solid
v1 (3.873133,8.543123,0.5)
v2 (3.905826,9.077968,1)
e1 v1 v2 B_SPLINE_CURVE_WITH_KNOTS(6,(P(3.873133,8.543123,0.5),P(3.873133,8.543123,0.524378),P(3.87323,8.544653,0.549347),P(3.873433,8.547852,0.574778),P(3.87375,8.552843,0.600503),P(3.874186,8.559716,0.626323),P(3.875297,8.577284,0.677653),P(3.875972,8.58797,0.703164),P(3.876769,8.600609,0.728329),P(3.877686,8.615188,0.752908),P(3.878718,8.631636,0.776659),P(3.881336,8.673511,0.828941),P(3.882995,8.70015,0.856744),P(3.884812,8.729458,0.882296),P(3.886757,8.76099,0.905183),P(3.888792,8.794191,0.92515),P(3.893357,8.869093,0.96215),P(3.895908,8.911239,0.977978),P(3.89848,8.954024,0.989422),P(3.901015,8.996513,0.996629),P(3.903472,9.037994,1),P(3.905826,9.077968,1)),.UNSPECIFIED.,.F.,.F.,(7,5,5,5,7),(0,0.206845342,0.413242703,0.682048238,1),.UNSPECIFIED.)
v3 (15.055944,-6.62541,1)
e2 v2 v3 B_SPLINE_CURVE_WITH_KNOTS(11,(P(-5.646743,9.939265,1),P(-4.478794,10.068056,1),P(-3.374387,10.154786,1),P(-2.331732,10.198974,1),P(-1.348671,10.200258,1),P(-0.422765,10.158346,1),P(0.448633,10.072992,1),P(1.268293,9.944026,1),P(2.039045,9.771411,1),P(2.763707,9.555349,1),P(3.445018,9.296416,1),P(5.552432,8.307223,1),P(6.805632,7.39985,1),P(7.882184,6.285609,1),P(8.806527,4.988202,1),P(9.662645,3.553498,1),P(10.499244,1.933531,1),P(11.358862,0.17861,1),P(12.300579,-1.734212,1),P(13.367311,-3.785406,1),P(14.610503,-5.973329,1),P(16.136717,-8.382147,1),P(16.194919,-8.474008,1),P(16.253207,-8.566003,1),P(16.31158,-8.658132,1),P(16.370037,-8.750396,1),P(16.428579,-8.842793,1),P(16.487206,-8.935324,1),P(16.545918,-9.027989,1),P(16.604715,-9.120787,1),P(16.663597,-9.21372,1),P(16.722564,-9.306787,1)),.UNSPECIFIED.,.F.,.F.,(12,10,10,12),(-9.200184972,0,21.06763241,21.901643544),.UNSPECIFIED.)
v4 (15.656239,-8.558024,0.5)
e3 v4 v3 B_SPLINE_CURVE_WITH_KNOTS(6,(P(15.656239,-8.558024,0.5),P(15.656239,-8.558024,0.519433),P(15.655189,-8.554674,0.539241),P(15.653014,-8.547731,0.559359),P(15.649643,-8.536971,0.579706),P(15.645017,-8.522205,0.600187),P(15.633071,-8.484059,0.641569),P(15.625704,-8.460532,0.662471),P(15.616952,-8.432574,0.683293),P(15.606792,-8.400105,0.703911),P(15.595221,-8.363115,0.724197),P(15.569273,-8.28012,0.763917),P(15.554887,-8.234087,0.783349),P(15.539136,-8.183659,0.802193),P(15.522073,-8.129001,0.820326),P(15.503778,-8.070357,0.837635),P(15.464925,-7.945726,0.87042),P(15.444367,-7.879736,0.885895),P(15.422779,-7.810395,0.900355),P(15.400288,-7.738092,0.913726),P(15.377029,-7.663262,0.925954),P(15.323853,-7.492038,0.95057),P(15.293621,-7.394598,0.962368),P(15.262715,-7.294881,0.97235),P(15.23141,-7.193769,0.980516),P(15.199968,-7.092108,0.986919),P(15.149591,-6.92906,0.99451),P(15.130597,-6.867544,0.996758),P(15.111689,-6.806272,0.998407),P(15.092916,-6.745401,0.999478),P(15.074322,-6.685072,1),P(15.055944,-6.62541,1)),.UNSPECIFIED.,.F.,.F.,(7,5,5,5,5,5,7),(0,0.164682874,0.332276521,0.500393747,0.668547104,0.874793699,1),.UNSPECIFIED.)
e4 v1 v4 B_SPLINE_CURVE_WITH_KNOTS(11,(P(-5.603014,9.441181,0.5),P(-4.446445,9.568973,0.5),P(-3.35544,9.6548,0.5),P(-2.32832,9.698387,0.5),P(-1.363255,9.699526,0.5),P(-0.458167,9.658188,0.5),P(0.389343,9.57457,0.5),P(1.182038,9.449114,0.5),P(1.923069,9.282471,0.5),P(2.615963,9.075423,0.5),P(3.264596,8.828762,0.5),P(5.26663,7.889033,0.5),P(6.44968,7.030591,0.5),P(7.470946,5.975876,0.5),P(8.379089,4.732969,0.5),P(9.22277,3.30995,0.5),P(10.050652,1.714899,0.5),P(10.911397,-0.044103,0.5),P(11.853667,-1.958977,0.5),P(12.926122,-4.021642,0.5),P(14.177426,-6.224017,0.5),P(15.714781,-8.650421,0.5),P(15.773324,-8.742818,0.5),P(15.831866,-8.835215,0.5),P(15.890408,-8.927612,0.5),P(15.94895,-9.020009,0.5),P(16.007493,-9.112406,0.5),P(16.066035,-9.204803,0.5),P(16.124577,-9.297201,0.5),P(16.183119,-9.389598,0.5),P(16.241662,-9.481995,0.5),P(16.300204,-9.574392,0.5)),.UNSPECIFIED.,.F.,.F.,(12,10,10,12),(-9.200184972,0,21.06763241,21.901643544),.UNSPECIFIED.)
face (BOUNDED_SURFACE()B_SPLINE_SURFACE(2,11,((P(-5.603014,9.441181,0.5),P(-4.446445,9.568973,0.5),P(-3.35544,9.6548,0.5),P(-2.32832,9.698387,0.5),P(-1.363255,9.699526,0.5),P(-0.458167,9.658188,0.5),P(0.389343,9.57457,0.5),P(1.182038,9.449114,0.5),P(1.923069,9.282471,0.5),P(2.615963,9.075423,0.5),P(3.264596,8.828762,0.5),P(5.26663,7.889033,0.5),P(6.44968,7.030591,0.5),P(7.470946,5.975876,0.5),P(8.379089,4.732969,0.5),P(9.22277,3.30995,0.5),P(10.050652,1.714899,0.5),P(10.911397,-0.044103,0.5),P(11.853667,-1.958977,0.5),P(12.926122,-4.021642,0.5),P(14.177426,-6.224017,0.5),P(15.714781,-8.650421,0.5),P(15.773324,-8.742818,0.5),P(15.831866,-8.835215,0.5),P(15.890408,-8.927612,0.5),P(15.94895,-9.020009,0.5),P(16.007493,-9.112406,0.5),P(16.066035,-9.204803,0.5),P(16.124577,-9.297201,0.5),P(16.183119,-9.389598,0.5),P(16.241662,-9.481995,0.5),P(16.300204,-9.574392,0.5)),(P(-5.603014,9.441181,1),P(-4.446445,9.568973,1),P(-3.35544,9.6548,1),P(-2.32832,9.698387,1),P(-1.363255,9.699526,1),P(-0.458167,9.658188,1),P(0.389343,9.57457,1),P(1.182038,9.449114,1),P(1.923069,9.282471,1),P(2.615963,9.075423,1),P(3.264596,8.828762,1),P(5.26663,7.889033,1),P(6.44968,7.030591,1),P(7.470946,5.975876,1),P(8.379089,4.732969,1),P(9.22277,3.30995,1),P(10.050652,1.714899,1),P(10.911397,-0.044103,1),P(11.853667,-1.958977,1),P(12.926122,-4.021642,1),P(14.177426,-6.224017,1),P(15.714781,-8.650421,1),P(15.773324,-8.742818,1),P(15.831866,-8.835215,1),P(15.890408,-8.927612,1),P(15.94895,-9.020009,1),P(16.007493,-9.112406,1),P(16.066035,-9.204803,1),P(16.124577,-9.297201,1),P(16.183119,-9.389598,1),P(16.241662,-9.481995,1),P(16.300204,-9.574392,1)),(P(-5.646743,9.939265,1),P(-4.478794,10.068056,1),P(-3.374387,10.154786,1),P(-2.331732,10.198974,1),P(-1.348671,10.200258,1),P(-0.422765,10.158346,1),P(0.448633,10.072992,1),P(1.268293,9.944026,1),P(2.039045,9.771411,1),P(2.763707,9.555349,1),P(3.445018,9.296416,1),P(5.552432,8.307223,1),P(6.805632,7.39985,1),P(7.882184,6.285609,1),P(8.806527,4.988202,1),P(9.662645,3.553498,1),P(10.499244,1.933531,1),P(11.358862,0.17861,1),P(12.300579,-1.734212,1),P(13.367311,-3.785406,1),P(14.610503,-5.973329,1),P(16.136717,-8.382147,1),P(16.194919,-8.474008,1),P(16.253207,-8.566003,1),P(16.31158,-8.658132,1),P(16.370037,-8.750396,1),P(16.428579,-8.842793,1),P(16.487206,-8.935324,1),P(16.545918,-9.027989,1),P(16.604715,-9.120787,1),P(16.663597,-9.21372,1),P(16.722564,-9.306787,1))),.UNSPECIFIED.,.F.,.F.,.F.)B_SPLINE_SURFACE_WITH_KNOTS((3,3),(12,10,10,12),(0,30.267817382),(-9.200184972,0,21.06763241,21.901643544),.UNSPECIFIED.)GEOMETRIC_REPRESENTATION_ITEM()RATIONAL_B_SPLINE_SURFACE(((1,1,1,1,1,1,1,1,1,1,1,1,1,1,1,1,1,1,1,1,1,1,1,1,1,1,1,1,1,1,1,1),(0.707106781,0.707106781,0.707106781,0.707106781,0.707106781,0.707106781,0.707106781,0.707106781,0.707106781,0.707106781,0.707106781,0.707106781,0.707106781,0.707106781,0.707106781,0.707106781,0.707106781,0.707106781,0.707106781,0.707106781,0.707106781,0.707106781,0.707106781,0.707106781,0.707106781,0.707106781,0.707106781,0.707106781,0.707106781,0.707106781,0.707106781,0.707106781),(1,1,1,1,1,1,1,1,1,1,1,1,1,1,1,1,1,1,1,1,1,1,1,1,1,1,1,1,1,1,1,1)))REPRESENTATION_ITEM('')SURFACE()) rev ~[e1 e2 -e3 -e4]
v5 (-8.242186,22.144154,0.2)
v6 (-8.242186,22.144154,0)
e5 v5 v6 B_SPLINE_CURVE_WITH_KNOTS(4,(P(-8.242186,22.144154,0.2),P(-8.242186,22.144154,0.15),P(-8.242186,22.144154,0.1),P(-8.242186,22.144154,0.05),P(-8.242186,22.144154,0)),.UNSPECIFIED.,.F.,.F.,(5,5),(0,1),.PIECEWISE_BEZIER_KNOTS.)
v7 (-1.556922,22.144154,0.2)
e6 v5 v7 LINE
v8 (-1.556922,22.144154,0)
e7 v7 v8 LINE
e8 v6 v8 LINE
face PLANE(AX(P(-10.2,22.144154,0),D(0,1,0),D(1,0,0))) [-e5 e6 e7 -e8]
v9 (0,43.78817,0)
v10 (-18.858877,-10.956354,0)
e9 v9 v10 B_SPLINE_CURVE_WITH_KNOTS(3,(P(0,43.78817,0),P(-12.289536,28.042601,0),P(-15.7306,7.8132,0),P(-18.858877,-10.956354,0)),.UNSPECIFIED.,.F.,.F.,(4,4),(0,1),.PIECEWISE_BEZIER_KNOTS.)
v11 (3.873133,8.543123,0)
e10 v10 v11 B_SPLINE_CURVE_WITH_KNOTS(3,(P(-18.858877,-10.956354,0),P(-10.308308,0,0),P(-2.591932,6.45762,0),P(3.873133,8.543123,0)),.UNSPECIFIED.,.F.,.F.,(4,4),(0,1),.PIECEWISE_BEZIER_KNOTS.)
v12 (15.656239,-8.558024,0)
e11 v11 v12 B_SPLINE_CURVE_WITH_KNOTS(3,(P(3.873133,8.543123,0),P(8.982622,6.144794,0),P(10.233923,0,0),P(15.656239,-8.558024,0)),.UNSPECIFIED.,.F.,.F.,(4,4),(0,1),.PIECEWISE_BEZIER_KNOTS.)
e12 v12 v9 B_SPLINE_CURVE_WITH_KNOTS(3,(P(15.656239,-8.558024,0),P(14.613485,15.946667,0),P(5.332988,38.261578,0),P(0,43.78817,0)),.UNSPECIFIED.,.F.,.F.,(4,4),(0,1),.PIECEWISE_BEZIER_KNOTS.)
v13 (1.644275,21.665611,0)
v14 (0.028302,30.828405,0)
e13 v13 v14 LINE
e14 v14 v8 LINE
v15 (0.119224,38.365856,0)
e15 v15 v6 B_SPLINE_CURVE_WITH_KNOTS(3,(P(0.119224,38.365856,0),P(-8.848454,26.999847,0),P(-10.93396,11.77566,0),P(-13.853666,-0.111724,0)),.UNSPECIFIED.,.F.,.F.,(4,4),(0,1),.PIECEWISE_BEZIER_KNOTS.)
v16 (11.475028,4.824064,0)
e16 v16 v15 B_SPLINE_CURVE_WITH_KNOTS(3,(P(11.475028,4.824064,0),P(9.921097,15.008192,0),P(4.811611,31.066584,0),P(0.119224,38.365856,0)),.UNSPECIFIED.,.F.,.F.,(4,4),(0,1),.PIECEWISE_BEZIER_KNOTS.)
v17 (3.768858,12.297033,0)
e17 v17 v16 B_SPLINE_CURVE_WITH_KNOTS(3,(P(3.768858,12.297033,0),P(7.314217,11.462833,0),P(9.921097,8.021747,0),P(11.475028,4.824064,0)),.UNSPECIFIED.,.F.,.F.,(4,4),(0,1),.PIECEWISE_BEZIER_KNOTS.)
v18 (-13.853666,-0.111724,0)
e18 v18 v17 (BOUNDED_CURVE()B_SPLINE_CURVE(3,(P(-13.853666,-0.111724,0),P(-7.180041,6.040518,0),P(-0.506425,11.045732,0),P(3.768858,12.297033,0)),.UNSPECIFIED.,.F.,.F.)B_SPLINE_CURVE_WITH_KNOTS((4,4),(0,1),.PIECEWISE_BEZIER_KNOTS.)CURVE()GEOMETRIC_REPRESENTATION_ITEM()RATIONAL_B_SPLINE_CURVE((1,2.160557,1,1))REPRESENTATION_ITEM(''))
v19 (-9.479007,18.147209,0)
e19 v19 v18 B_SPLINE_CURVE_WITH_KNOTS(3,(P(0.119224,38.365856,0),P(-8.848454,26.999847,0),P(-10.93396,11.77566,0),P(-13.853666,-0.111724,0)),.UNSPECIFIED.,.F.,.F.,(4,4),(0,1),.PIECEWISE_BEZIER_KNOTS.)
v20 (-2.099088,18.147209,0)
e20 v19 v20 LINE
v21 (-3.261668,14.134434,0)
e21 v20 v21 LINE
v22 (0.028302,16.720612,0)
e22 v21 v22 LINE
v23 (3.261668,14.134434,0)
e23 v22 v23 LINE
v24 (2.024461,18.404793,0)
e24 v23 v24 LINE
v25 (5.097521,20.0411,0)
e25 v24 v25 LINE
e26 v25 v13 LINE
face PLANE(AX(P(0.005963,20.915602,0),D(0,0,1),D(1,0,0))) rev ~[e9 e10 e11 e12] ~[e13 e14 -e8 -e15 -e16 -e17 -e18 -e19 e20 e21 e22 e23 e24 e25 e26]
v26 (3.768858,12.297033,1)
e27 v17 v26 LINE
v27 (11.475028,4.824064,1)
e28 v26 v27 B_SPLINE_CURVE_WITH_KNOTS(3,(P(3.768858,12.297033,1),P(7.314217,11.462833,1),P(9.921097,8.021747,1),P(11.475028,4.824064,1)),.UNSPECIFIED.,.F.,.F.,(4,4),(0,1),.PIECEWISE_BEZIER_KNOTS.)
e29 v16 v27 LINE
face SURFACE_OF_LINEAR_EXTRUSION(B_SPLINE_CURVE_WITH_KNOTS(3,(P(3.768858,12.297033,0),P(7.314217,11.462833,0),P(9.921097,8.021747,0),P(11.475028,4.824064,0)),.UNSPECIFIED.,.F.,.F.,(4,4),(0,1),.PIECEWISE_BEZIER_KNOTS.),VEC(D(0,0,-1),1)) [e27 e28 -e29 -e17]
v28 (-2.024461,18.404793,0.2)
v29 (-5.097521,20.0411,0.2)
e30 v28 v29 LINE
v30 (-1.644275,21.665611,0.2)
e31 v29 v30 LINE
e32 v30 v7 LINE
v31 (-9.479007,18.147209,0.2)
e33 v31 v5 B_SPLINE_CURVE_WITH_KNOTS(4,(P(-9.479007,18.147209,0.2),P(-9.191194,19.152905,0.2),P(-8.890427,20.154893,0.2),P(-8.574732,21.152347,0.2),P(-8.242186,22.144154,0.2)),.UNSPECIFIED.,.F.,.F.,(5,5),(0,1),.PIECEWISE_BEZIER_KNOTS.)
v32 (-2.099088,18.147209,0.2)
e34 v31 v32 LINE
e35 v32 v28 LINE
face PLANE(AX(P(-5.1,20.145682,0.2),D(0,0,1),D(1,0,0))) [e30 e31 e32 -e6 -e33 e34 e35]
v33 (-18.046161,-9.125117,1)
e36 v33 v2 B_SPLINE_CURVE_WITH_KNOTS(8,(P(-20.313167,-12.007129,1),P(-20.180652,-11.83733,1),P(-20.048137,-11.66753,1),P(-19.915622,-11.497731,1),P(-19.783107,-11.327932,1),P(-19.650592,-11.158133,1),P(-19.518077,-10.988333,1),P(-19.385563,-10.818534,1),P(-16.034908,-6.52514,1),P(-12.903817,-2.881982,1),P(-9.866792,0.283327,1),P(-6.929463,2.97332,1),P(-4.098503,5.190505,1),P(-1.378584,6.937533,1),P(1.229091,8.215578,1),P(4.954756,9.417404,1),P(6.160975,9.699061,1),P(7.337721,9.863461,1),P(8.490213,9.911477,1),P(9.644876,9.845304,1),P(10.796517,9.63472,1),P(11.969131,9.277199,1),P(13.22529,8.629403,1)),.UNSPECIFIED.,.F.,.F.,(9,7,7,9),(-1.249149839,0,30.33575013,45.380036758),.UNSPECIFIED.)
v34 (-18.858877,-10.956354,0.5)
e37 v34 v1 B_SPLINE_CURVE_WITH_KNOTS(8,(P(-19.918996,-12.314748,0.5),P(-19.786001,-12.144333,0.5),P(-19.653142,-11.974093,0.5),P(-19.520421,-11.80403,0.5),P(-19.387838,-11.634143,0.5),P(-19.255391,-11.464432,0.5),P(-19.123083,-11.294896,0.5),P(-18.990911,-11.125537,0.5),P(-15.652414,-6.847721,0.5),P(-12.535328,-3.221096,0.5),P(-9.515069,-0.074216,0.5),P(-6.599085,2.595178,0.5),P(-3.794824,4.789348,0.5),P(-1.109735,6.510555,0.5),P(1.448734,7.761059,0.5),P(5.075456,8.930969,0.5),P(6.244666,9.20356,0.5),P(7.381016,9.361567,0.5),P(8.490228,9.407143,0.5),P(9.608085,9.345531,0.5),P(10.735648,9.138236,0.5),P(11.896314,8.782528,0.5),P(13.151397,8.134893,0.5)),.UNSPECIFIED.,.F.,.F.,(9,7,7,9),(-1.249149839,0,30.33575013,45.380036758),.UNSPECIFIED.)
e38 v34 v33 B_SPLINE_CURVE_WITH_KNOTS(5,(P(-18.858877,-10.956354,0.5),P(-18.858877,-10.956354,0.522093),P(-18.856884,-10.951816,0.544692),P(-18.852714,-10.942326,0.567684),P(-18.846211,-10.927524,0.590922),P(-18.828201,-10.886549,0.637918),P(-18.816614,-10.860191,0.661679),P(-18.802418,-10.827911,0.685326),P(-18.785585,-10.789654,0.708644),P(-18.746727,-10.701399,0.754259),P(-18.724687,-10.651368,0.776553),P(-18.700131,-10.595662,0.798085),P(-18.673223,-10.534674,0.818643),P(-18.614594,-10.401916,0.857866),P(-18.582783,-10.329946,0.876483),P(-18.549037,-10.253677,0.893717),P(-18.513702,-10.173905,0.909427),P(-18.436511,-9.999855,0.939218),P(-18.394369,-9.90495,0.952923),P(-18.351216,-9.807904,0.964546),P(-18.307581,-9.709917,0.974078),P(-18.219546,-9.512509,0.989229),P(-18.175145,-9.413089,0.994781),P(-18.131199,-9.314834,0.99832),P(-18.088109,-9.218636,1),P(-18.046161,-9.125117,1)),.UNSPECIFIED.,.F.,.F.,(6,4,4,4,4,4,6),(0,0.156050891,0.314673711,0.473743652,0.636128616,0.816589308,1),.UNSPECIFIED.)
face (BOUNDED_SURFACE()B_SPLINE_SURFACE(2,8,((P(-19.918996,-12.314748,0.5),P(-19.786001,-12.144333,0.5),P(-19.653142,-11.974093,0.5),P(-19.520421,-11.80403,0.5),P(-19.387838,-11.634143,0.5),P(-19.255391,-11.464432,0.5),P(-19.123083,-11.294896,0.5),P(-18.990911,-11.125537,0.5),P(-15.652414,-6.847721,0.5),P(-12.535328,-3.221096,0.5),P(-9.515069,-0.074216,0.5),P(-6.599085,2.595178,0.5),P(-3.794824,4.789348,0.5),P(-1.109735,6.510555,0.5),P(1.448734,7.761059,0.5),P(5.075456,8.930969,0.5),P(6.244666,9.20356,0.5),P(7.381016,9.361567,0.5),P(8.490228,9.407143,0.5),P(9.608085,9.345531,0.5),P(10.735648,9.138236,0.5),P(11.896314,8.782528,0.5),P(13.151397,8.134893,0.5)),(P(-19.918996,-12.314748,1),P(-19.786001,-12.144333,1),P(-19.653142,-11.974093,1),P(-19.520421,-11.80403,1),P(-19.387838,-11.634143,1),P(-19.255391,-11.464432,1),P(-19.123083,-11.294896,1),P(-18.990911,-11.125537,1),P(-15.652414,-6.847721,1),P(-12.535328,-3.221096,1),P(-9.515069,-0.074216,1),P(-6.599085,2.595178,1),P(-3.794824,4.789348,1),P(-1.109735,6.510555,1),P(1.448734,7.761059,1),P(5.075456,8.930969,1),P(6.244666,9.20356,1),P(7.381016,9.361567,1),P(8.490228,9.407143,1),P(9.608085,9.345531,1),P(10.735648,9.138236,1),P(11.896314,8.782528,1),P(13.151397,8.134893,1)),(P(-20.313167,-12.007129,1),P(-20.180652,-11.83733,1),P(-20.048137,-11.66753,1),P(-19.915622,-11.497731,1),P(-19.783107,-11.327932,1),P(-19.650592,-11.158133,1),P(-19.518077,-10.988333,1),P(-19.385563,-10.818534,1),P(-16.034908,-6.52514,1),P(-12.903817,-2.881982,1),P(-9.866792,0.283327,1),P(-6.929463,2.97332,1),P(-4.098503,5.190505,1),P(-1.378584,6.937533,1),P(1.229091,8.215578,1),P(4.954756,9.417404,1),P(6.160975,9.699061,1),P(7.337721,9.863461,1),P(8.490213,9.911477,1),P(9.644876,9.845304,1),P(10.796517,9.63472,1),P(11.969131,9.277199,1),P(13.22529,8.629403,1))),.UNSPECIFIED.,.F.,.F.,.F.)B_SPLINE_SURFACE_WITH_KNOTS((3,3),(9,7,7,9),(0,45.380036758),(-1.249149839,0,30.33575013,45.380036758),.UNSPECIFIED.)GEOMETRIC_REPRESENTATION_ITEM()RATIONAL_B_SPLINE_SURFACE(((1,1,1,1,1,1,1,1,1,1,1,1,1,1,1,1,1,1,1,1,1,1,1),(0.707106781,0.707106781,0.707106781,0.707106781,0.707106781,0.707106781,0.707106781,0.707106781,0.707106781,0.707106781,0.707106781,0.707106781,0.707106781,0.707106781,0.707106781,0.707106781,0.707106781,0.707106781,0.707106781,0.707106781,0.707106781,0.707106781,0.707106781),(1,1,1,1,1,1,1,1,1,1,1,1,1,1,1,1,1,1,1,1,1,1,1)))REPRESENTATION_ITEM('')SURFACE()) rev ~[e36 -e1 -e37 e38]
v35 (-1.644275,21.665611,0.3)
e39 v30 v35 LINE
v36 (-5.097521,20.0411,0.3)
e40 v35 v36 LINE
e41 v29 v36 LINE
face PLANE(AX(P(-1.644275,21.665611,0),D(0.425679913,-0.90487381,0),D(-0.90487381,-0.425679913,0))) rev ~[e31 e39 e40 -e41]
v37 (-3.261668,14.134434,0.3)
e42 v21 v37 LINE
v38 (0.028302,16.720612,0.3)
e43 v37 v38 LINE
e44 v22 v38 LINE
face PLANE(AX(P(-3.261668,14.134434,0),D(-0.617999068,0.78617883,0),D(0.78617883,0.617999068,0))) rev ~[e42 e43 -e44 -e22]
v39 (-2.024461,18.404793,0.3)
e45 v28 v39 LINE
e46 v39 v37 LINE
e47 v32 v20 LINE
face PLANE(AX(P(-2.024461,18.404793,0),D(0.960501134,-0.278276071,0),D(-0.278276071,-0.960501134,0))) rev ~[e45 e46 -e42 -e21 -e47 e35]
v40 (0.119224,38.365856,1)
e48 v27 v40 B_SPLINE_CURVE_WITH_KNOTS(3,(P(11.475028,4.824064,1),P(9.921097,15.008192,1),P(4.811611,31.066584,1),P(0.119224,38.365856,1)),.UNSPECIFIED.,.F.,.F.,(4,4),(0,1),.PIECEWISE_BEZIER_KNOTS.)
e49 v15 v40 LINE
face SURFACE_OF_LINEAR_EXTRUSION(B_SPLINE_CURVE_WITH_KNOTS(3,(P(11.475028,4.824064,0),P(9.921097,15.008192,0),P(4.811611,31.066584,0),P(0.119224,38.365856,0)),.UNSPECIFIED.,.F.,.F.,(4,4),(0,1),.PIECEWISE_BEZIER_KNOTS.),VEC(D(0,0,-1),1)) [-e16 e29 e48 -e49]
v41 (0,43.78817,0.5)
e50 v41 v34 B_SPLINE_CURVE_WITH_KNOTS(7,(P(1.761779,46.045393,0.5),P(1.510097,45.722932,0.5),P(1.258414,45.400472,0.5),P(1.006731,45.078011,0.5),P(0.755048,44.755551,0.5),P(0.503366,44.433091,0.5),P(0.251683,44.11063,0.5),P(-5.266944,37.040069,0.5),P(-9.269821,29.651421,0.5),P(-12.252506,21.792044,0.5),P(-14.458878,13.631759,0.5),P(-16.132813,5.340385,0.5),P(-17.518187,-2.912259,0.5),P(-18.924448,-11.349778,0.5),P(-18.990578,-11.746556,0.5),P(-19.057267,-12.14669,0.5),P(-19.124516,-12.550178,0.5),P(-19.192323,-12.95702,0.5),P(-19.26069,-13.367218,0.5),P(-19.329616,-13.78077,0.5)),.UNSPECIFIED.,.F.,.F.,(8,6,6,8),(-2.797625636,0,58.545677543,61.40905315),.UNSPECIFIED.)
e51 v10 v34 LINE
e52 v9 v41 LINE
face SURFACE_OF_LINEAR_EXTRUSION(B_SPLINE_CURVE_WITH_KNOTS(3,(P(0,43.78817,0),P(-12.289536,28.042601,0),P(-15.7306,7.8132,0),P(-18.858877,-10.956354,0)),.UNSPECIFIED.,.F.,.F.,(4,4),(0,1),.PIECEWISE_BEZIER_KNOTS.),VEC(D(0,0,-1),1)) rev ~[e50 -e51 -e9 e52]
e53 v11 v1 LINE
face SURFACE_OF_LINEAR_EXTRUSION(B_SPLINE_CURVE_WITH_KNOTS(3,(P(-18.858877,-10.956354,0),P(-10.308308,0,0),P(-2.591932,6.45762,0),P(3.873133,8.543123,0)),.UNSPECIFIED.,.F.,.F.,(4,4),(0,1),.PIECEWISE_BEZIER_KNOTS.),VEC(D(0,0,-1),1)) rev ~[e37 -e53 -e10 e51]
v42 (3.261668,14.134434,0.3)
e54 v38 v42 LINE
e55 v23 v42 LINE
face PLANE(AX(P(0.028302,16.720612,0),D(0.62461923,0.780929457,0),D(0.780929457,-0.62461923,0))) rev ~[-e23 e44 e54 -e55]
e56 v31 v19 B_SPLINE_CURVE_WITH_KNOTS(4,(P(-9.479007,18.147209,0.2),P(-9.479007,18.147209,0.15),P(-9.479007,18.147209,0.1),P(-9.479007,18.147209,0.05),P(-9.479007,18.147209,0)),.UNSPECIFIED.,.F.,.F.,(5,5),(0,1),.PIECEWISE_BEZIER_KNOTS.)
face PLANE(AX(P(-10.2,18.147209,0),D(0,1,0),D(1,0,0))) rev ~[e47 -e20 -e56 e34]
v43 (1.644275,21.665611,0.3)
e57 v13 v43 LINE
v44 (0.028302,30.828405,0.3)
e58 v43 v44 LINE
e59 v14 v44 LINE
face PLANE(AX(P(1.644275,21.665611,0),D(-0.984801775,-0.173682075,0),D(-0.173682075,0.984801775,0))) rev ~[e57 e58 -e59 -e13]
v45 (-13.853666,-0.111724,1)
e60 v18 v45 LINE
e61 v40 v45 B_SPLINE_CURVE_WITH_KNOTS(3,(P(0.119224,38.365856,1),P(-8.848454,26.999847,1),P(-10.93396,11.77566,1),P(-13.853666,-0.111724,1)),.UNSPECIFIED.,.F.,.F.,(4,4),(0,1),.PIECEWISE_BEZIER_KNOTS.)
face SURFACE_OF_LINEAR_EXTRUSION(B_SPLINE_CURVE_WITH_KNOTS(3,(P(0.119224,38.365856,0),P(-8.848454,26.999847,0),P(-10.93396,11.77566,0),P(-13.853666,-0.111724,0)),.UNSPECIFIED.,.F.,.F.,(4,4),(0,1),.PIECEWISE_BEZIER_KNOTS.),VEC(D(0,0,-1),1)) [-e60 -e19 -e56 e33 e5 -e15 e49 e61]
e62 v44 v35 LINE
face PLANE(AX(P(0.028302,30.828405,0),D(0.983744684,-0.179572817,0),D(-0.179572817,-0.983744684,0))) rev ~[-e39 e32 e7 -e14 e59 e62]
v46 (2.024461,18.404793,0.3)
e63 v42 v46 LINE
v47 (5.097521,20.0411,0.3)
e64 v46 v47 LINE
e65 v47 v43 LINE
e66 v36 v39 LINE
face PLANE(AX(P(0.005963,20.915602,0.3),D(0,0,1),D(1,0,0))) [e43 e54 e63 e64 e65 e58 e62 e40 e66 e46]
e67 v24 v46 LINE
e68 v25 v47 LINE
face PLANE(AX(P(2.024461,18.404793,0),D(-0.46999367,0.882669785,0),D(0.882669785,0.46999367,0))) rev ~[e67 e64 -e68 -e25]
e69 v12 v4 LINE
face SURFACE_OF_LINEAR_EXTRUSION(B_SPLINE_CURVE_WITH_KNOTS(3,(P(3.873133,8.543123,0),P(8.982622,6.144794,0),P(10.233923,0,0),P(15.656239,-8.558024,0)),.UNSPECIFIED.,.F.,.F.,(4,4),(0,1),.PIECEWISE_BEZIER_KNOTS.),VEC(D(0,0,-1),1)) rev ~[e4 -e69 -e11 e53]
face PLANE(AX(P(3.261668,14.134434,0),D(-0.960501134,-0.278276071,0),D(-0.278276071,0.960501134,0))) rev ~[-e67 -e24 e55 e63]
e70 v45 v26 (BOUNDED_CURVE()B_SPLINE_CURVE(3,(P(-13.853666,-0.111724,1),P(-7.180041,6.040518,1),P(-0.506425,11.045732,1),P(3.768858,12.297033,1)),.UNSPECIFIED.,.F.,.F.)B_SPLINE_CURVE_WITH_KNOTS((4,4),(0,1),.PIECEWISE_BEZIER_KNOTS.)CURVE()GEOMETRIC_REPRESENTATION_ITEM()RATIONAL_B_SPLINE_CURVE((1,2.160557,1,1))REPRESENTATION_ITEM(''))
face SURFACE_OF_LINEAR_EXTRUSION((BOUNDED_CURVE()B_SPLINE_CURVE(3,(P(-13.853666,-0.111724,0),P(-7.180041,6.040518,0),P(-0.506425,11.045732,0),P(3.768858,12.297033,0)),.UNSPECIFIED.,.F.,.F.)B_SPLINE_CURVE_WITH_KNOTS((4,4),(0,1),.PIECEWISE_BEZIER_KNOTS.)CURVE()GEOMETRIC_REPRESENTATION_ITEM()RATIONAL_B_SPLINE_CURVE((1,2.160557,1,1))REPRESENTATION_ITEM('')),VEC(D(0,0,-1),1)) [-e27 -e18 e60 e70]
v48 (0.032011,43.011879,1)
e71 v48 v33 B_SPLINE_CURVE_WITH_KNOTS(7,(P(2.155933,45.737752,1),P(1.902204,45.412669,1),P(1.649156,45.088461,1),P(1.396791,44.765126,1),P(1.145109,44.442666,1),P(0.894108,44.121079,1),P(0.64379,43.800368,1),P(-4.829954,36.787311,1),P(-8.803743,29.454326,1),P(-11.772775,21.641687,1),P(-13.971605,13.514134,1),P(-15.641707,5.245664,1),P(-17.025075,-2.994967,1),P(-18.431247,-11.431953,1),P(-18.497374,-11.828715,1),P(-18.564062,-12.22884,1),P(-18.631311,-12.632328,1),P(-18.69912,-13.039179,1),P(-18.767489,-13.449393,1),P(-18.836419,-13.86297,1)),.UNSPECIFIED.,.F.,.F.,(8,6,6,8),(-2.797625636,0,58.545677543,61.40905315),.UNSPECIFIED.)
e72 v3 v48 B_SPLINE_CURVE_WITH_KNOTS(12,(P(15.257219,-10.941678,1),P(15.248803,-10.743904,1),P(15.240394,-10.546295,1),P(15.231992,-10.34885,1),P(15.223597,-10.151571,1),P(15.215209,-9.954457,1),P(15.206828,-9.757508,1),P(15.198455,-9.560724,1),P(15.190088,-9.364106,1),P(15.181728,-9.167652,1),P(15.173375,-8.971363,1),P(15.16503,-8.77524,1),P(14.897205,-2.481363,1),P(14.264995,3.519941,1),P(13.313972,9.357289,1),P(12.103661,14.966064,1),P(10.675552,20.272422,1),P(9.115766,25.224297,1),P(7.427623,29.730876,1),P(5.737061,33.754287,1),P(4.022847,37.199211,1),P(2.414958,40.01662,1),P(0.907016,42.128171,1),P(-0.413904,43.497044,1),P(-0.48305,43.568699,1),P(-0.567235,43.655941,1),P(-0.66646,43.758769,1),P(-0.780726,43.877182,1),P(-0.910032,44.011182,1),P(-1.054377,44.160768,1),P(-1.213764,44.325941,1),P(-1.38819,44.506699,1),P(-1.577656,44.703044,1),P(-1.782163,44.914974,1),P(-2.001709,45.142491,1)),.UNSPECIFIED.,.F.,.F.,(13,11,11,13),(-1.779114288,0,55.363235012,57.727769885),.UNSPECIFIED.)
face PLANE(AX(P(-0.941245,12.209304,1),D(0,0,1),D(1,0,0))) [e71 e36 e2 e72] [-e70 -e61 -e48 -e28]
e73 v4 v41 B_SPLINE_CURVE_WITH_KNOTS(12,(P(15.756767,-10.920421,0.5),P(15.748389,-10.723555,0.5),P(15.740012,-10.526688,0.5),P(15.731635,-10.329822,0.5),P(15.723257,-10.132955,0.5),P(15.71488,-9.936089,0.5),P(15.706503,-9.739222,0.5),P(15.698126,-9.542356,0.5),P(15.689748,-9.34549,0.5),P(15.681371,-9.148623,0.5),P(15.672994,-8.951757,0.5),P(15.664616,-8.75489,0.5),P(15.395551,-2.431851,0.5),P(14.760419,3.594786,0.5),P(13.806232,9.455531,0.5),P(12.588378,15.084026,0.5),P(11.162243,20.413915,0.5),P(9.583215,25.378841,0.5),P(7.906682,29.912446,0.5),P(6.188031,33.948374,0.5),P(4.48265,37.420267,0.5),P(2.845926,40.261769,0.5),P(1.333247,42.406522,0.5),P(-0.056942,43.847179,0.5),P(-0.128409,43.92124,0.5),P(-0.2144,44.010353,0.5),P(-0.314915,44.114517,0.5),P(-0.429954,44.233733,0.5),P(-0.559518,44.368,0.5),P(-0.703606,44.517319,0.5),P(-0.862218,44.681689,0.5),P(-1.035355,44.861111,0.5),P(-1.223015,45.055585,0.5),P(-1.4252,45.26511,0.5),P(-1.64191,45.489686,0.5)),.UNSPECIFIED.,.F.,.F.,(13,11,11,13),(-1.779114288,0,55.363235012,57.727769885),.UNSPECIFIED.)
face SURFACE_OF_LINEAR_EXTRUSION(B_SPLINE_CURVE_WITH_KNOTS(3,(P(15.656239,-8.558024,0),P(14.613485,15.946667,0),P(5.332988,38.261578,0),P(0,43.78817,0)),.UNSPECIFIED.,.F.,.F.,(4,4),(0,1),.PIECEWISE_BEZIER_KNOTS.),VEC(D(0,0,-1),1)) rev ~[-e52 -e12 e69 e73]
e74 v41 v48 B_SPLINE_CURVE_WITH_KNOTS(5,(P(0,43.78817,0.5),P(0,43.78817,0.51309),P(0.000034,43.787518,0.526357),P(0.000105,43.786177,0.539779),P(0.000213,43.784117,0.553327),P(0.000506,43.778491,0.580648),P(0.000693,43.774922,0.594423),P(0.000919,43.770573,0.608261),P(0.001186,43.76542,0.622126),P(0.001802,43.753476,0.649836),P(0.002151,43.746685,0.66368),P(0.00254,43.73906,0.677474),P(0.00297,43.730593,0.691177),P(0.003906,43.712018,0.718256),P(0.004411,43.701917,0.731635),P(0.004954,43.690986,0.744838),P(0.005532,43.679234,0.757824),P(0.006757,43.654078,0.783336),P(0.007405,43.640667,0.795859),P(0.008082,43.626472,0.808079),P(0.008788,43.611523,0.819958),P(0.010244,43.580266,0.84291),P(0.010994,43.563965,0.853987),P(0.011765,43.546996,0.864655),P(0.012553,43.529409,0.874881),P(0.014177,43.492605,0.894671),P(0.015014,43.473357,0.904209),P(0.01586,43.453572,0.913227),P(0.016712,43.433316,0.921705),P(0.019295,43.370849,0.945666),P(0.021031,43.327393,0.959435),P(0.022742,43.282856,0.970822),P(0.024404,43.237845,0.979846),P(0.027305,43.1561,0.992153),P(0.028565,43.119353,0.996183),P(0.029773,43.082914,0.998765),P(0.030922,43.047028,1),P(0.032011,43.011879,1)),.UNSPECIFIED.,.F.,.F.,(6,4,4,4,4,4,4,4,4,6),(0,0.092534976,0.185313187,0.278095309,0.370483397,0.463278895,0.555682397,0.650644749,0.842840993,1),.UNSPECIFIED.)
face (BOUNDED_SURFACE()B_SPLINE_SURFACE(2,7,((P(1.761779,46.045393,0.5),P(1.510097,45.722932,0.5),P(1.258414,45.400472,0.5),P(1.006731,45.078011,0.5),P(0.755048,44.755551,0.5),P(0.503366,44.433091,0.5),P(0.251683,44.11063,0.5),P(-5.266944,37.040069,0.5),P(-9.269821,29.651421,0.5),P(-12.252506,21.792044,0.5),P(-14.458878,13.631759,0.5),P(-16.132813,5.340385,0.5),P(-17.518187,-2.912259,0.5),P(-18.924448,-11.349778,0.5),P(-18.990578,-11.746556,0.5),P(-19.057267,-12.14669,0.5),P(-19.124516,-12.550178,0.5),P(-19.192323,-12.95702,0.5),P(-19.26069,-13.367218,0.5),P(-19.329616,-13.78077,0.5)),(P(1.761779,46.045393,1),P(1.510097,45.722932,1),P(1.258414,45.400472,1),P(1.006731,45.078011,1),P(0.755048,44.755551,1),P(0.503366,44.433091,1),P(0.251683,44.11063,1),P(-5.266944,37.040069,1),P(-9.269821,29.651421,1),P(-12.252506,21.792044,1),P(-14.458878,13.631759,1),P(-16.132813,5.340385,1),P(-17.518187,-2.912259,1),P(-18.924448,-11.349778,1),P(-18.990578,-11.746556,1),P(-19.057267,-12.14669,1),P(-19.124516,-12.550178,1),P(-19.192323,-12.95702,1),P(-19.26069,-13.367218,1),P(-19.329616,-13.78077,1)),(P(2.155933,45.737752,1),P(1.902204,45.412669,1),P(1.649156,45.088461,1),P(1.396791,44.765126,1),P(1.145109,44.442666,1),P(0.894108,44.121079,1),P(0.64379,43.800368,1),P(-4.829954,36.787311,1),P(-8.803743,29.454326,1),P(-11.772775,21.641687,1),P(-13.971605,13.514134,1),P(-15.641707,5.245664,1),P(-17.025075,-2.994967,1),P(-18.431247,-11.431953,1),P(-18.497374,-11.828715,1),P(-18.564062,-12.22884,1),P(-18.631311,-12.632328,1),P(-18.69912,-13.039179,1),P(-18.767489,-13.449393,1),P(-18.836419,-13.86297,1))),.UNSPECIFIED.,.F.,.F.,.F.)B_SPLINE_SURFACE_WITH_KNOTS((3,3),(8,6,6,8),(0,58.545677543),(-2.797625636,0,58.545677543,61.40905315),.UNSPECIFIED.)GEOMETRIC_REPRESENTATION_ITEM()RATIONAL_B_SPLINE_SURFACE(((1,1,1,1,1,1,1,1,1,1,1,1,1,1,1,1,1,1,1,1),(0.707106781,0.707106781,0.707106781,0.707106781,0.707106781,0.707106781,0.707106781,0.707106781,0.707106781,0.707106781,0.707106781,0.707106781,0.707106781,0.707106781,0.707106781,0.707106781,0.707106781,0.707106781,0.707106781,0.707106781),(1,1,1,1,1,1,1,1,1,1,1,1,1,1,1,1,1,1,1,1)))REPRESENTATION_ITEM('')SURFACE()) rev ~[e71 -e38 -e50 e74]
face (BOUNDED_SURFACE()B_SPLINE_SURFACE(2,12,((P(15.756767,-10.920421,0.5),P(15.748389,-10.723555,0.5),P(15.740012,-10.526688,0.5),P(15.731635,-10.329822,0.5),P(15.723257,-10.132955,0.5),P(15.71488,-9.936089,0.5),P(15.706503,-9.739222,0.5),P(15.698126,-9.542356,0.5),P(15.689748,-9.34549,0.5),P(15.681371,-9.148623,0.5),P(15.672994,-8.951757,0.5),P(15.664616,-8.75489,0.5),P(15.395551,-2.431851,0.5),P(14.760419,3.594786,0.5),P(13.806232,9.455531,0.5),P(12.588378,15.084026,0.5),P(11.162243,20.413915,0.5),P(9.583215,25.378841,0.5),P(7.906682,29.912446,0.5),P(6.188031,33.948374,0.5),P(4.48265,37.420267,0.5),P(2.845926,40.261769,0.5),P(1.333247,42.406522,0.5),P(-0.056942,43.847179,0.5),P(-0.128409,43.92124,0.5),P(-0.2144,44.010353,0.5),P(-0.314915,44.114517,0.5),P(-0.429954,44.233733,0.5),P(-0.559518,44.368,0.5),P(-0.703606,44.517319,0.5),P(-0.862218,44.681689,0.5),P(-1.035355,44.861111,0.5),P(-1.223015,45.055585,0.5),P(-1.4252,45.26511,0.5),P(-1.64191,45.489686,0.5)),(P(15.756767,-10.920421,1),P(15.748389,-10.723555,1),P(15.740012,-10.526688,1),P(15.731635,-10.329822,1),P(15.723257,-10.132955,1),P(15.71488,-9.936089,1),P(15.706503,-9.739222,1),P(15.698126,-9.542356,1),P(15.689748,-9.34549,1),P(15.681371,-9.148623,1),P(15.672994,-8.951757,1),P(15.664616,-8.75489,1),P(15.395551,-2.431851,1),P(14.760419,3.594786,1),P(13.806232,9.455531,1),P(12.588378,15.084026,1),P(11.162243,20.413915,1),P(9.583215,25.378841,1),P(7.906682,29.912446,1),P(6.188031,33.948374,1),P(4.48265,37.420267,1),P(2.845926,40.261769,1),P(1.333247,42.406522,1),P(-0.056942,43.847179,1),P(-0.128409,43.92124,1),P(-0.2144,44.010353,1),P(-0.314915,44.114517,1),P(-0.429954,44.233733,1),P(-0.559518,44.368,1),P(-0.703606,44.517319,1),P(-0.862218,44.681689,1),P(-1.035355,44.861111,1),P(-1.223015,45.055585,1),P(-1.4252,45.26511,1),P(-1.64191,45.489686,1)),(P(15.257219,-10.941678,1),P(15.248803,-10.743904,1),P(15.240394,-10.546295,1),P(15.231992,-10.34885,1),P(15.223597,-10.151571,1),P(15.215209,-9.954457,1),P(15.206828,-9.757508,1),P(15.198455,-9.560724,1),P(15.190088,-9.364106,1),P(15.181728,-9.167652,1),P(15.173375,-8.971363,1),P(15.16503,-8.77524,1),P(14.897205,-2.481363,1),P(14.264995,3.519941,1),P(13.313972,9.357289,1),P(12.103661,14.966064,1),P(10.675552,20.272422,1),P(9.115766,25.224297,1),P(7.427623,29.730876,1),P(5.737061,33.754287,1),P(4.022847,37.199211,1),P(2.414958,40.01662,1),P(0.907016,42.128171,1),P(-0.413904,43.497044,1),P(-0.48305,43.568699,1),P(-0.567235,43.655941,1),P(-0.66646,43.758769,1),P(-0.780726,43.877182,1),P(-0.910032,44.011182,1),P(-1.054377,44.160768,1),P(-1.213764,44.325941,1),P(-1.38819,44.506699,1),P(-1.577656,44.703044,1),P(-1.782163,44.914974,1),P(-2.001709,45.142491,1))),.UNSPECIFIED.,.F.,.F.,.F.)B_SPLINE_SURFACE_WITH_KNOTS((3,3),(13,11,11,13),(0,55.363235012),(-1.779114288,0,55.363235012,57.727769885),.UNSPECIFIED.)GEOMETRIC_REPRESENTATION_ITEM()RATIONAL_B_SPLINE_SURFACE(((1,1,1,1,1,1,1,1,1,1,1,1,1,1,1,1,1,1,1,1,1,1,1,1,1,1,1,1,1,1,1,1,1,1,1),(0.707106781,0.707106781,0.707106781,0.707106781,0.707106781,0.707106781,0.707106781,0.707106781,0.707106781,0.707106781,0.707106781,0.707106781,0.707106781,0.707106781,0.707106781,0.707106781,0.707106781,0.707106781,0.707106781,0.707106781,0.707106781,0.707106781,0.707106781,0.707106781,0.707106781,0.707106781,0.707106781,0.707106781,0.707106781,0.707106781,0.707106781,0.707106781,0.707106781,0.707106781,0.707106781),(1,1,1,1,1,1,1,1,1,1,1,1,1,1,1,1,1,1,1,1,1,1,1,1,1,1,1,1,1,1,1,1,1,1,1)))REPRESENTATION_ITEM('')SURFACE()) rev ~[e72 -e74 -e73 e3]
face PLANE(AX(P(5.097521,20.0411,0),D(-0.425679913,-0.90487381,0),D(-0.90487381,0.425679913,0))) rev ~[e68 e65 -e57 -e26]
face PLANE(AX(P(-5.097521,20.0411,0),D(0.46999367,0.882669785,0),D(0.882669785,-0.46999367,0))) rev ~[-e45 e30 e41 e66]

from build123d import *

# Parameters (mm, degrees)
PAD_DEPTH    = 1
FILLET_R     = 0.5
POCKET_DEPTH = 1
SKETCH003_W  = 10.2
SKETCH003_H  = 3.996945
PAD001_DEPTH = 0.2
PAD002_DEPTH = 0.3


with BuildPart() as part:
    # Sketch001 → Pad (new body)
    with BuildSketch(Plane.XY):
        with BuildLine():
            add(Edge.make_bspline(
                [(0, 43.78817), (-12.289536, 28.042601), (-15.7306, 7.8132), (-18.858877, -10.956354)],
                knots=[0, 0, 0, 0, 1, 1, 1, 1], degree=3))
            add(Edge.make_bspline(
                [(-18.858877, -10.956354), (-10.308308, 0), (-2.591932, 6.45762), (3.873133, 8.543123)],
                knots=[0, 0, 0, 0, 1, 1, 1, 1], degree=3))
            add(Edge.make_bspline(
                [(3.873133, 8.543123), (8.982622, 6.144794), (10.233923, 0), (15.656239, -8.558024)],
                knots=[0, 0, 0, 0, 1, 1, 1, 1], degree=3))
            add(Edge.make_bspline(
                [(15.656239, -8.558024), (14.613485, 15.946667), (5.332988, 38.261578), (0, 43.78817)],
                knots=[0, 0, 0, 0, 1, 1, 1, 1], degree=3))
        make_face()
    extrude(amount=PAD_DEPTH)

    # Fillet
    fillet_edges = [part.edges().sort_by_distance(p)[0] for p in [
        (-12.829649, 17.66823, 1),
        (-8.732052, 0.31512, 1),
        (10.543217, 0.647396, 1),
        (11.271646, 18.714661, 1),
    ]]
    fillet(fillet_edges, radius=FILLET_R)

    # Sketch → Pocket (cut)
    with BuildSketch(Plane.XY):
        with BuildLine():
            add(Edge.make_bspline(
                [(0.119224, 38.365856), (-8.848454, 26.999847), (-10.93396, 11.77566), (-13.853666, -0.111724)],
                knots=[0, 0, 0, 0, 1, 1, 1, 1], degree=3))
            add(Edge.make_bspline(
                [(-13.853666, -0.111724), (-7.180041, 6.040518), (-0.506425, 11.045732), (3.768858, 12.297033)],
                knots=[0, 0, 0, 0, 1, 1, 1, 1], degree=3, weights=[1, 2.160557, 1, 1]))
            add(Edge.make_bspline(
                [(3.768858, 12.297033), (7.314217, 11.462833), (9.921097, 8.021747), (11.475028, 4.824064)],
                knots=[0, 0, 0, 0, 1, 1, 1, 1], degree=3))
            add(Edge.make_bspline(
                [(11.475028, 4.824064), (9.921097, 15.008192), (4.811611, 31.066584), (0.119224, 38.365856)],
                knots=[0, 0, 0, 0, 1, 1, 1, 1], degree=3))
        make_face()
    extrude(amount=POCKET_DEPTH, mode=Mode.SUBTRACT)

    # Sketch003 → Pad001 (join)
    with BuildSketch(Plane.XY):
        with Locations((-5.1, 20.145682)):
            Rectangle(SKETCH003_W, SKETCH003_H)
    extrude(amount=PAD001_DEPTH)

    # Sketch002 → Pad002 (join)
    with BuildSketch(Plane.XY):
        Polygon((0.028302, 30.828405), (-1.644275, 21.665611), (-5.097521, 20.0411), (-2.024461, 18.404793), (-3.261668, 14.134434), (0.028302, 16.720612), (3.261668, 14.134434), (2.024461, 18.404793), (5.097521, 20.0411), (1.644275, 21.665611), align=None)
    extrude(amount=PAD002_DEPTH)


solid = part.part
